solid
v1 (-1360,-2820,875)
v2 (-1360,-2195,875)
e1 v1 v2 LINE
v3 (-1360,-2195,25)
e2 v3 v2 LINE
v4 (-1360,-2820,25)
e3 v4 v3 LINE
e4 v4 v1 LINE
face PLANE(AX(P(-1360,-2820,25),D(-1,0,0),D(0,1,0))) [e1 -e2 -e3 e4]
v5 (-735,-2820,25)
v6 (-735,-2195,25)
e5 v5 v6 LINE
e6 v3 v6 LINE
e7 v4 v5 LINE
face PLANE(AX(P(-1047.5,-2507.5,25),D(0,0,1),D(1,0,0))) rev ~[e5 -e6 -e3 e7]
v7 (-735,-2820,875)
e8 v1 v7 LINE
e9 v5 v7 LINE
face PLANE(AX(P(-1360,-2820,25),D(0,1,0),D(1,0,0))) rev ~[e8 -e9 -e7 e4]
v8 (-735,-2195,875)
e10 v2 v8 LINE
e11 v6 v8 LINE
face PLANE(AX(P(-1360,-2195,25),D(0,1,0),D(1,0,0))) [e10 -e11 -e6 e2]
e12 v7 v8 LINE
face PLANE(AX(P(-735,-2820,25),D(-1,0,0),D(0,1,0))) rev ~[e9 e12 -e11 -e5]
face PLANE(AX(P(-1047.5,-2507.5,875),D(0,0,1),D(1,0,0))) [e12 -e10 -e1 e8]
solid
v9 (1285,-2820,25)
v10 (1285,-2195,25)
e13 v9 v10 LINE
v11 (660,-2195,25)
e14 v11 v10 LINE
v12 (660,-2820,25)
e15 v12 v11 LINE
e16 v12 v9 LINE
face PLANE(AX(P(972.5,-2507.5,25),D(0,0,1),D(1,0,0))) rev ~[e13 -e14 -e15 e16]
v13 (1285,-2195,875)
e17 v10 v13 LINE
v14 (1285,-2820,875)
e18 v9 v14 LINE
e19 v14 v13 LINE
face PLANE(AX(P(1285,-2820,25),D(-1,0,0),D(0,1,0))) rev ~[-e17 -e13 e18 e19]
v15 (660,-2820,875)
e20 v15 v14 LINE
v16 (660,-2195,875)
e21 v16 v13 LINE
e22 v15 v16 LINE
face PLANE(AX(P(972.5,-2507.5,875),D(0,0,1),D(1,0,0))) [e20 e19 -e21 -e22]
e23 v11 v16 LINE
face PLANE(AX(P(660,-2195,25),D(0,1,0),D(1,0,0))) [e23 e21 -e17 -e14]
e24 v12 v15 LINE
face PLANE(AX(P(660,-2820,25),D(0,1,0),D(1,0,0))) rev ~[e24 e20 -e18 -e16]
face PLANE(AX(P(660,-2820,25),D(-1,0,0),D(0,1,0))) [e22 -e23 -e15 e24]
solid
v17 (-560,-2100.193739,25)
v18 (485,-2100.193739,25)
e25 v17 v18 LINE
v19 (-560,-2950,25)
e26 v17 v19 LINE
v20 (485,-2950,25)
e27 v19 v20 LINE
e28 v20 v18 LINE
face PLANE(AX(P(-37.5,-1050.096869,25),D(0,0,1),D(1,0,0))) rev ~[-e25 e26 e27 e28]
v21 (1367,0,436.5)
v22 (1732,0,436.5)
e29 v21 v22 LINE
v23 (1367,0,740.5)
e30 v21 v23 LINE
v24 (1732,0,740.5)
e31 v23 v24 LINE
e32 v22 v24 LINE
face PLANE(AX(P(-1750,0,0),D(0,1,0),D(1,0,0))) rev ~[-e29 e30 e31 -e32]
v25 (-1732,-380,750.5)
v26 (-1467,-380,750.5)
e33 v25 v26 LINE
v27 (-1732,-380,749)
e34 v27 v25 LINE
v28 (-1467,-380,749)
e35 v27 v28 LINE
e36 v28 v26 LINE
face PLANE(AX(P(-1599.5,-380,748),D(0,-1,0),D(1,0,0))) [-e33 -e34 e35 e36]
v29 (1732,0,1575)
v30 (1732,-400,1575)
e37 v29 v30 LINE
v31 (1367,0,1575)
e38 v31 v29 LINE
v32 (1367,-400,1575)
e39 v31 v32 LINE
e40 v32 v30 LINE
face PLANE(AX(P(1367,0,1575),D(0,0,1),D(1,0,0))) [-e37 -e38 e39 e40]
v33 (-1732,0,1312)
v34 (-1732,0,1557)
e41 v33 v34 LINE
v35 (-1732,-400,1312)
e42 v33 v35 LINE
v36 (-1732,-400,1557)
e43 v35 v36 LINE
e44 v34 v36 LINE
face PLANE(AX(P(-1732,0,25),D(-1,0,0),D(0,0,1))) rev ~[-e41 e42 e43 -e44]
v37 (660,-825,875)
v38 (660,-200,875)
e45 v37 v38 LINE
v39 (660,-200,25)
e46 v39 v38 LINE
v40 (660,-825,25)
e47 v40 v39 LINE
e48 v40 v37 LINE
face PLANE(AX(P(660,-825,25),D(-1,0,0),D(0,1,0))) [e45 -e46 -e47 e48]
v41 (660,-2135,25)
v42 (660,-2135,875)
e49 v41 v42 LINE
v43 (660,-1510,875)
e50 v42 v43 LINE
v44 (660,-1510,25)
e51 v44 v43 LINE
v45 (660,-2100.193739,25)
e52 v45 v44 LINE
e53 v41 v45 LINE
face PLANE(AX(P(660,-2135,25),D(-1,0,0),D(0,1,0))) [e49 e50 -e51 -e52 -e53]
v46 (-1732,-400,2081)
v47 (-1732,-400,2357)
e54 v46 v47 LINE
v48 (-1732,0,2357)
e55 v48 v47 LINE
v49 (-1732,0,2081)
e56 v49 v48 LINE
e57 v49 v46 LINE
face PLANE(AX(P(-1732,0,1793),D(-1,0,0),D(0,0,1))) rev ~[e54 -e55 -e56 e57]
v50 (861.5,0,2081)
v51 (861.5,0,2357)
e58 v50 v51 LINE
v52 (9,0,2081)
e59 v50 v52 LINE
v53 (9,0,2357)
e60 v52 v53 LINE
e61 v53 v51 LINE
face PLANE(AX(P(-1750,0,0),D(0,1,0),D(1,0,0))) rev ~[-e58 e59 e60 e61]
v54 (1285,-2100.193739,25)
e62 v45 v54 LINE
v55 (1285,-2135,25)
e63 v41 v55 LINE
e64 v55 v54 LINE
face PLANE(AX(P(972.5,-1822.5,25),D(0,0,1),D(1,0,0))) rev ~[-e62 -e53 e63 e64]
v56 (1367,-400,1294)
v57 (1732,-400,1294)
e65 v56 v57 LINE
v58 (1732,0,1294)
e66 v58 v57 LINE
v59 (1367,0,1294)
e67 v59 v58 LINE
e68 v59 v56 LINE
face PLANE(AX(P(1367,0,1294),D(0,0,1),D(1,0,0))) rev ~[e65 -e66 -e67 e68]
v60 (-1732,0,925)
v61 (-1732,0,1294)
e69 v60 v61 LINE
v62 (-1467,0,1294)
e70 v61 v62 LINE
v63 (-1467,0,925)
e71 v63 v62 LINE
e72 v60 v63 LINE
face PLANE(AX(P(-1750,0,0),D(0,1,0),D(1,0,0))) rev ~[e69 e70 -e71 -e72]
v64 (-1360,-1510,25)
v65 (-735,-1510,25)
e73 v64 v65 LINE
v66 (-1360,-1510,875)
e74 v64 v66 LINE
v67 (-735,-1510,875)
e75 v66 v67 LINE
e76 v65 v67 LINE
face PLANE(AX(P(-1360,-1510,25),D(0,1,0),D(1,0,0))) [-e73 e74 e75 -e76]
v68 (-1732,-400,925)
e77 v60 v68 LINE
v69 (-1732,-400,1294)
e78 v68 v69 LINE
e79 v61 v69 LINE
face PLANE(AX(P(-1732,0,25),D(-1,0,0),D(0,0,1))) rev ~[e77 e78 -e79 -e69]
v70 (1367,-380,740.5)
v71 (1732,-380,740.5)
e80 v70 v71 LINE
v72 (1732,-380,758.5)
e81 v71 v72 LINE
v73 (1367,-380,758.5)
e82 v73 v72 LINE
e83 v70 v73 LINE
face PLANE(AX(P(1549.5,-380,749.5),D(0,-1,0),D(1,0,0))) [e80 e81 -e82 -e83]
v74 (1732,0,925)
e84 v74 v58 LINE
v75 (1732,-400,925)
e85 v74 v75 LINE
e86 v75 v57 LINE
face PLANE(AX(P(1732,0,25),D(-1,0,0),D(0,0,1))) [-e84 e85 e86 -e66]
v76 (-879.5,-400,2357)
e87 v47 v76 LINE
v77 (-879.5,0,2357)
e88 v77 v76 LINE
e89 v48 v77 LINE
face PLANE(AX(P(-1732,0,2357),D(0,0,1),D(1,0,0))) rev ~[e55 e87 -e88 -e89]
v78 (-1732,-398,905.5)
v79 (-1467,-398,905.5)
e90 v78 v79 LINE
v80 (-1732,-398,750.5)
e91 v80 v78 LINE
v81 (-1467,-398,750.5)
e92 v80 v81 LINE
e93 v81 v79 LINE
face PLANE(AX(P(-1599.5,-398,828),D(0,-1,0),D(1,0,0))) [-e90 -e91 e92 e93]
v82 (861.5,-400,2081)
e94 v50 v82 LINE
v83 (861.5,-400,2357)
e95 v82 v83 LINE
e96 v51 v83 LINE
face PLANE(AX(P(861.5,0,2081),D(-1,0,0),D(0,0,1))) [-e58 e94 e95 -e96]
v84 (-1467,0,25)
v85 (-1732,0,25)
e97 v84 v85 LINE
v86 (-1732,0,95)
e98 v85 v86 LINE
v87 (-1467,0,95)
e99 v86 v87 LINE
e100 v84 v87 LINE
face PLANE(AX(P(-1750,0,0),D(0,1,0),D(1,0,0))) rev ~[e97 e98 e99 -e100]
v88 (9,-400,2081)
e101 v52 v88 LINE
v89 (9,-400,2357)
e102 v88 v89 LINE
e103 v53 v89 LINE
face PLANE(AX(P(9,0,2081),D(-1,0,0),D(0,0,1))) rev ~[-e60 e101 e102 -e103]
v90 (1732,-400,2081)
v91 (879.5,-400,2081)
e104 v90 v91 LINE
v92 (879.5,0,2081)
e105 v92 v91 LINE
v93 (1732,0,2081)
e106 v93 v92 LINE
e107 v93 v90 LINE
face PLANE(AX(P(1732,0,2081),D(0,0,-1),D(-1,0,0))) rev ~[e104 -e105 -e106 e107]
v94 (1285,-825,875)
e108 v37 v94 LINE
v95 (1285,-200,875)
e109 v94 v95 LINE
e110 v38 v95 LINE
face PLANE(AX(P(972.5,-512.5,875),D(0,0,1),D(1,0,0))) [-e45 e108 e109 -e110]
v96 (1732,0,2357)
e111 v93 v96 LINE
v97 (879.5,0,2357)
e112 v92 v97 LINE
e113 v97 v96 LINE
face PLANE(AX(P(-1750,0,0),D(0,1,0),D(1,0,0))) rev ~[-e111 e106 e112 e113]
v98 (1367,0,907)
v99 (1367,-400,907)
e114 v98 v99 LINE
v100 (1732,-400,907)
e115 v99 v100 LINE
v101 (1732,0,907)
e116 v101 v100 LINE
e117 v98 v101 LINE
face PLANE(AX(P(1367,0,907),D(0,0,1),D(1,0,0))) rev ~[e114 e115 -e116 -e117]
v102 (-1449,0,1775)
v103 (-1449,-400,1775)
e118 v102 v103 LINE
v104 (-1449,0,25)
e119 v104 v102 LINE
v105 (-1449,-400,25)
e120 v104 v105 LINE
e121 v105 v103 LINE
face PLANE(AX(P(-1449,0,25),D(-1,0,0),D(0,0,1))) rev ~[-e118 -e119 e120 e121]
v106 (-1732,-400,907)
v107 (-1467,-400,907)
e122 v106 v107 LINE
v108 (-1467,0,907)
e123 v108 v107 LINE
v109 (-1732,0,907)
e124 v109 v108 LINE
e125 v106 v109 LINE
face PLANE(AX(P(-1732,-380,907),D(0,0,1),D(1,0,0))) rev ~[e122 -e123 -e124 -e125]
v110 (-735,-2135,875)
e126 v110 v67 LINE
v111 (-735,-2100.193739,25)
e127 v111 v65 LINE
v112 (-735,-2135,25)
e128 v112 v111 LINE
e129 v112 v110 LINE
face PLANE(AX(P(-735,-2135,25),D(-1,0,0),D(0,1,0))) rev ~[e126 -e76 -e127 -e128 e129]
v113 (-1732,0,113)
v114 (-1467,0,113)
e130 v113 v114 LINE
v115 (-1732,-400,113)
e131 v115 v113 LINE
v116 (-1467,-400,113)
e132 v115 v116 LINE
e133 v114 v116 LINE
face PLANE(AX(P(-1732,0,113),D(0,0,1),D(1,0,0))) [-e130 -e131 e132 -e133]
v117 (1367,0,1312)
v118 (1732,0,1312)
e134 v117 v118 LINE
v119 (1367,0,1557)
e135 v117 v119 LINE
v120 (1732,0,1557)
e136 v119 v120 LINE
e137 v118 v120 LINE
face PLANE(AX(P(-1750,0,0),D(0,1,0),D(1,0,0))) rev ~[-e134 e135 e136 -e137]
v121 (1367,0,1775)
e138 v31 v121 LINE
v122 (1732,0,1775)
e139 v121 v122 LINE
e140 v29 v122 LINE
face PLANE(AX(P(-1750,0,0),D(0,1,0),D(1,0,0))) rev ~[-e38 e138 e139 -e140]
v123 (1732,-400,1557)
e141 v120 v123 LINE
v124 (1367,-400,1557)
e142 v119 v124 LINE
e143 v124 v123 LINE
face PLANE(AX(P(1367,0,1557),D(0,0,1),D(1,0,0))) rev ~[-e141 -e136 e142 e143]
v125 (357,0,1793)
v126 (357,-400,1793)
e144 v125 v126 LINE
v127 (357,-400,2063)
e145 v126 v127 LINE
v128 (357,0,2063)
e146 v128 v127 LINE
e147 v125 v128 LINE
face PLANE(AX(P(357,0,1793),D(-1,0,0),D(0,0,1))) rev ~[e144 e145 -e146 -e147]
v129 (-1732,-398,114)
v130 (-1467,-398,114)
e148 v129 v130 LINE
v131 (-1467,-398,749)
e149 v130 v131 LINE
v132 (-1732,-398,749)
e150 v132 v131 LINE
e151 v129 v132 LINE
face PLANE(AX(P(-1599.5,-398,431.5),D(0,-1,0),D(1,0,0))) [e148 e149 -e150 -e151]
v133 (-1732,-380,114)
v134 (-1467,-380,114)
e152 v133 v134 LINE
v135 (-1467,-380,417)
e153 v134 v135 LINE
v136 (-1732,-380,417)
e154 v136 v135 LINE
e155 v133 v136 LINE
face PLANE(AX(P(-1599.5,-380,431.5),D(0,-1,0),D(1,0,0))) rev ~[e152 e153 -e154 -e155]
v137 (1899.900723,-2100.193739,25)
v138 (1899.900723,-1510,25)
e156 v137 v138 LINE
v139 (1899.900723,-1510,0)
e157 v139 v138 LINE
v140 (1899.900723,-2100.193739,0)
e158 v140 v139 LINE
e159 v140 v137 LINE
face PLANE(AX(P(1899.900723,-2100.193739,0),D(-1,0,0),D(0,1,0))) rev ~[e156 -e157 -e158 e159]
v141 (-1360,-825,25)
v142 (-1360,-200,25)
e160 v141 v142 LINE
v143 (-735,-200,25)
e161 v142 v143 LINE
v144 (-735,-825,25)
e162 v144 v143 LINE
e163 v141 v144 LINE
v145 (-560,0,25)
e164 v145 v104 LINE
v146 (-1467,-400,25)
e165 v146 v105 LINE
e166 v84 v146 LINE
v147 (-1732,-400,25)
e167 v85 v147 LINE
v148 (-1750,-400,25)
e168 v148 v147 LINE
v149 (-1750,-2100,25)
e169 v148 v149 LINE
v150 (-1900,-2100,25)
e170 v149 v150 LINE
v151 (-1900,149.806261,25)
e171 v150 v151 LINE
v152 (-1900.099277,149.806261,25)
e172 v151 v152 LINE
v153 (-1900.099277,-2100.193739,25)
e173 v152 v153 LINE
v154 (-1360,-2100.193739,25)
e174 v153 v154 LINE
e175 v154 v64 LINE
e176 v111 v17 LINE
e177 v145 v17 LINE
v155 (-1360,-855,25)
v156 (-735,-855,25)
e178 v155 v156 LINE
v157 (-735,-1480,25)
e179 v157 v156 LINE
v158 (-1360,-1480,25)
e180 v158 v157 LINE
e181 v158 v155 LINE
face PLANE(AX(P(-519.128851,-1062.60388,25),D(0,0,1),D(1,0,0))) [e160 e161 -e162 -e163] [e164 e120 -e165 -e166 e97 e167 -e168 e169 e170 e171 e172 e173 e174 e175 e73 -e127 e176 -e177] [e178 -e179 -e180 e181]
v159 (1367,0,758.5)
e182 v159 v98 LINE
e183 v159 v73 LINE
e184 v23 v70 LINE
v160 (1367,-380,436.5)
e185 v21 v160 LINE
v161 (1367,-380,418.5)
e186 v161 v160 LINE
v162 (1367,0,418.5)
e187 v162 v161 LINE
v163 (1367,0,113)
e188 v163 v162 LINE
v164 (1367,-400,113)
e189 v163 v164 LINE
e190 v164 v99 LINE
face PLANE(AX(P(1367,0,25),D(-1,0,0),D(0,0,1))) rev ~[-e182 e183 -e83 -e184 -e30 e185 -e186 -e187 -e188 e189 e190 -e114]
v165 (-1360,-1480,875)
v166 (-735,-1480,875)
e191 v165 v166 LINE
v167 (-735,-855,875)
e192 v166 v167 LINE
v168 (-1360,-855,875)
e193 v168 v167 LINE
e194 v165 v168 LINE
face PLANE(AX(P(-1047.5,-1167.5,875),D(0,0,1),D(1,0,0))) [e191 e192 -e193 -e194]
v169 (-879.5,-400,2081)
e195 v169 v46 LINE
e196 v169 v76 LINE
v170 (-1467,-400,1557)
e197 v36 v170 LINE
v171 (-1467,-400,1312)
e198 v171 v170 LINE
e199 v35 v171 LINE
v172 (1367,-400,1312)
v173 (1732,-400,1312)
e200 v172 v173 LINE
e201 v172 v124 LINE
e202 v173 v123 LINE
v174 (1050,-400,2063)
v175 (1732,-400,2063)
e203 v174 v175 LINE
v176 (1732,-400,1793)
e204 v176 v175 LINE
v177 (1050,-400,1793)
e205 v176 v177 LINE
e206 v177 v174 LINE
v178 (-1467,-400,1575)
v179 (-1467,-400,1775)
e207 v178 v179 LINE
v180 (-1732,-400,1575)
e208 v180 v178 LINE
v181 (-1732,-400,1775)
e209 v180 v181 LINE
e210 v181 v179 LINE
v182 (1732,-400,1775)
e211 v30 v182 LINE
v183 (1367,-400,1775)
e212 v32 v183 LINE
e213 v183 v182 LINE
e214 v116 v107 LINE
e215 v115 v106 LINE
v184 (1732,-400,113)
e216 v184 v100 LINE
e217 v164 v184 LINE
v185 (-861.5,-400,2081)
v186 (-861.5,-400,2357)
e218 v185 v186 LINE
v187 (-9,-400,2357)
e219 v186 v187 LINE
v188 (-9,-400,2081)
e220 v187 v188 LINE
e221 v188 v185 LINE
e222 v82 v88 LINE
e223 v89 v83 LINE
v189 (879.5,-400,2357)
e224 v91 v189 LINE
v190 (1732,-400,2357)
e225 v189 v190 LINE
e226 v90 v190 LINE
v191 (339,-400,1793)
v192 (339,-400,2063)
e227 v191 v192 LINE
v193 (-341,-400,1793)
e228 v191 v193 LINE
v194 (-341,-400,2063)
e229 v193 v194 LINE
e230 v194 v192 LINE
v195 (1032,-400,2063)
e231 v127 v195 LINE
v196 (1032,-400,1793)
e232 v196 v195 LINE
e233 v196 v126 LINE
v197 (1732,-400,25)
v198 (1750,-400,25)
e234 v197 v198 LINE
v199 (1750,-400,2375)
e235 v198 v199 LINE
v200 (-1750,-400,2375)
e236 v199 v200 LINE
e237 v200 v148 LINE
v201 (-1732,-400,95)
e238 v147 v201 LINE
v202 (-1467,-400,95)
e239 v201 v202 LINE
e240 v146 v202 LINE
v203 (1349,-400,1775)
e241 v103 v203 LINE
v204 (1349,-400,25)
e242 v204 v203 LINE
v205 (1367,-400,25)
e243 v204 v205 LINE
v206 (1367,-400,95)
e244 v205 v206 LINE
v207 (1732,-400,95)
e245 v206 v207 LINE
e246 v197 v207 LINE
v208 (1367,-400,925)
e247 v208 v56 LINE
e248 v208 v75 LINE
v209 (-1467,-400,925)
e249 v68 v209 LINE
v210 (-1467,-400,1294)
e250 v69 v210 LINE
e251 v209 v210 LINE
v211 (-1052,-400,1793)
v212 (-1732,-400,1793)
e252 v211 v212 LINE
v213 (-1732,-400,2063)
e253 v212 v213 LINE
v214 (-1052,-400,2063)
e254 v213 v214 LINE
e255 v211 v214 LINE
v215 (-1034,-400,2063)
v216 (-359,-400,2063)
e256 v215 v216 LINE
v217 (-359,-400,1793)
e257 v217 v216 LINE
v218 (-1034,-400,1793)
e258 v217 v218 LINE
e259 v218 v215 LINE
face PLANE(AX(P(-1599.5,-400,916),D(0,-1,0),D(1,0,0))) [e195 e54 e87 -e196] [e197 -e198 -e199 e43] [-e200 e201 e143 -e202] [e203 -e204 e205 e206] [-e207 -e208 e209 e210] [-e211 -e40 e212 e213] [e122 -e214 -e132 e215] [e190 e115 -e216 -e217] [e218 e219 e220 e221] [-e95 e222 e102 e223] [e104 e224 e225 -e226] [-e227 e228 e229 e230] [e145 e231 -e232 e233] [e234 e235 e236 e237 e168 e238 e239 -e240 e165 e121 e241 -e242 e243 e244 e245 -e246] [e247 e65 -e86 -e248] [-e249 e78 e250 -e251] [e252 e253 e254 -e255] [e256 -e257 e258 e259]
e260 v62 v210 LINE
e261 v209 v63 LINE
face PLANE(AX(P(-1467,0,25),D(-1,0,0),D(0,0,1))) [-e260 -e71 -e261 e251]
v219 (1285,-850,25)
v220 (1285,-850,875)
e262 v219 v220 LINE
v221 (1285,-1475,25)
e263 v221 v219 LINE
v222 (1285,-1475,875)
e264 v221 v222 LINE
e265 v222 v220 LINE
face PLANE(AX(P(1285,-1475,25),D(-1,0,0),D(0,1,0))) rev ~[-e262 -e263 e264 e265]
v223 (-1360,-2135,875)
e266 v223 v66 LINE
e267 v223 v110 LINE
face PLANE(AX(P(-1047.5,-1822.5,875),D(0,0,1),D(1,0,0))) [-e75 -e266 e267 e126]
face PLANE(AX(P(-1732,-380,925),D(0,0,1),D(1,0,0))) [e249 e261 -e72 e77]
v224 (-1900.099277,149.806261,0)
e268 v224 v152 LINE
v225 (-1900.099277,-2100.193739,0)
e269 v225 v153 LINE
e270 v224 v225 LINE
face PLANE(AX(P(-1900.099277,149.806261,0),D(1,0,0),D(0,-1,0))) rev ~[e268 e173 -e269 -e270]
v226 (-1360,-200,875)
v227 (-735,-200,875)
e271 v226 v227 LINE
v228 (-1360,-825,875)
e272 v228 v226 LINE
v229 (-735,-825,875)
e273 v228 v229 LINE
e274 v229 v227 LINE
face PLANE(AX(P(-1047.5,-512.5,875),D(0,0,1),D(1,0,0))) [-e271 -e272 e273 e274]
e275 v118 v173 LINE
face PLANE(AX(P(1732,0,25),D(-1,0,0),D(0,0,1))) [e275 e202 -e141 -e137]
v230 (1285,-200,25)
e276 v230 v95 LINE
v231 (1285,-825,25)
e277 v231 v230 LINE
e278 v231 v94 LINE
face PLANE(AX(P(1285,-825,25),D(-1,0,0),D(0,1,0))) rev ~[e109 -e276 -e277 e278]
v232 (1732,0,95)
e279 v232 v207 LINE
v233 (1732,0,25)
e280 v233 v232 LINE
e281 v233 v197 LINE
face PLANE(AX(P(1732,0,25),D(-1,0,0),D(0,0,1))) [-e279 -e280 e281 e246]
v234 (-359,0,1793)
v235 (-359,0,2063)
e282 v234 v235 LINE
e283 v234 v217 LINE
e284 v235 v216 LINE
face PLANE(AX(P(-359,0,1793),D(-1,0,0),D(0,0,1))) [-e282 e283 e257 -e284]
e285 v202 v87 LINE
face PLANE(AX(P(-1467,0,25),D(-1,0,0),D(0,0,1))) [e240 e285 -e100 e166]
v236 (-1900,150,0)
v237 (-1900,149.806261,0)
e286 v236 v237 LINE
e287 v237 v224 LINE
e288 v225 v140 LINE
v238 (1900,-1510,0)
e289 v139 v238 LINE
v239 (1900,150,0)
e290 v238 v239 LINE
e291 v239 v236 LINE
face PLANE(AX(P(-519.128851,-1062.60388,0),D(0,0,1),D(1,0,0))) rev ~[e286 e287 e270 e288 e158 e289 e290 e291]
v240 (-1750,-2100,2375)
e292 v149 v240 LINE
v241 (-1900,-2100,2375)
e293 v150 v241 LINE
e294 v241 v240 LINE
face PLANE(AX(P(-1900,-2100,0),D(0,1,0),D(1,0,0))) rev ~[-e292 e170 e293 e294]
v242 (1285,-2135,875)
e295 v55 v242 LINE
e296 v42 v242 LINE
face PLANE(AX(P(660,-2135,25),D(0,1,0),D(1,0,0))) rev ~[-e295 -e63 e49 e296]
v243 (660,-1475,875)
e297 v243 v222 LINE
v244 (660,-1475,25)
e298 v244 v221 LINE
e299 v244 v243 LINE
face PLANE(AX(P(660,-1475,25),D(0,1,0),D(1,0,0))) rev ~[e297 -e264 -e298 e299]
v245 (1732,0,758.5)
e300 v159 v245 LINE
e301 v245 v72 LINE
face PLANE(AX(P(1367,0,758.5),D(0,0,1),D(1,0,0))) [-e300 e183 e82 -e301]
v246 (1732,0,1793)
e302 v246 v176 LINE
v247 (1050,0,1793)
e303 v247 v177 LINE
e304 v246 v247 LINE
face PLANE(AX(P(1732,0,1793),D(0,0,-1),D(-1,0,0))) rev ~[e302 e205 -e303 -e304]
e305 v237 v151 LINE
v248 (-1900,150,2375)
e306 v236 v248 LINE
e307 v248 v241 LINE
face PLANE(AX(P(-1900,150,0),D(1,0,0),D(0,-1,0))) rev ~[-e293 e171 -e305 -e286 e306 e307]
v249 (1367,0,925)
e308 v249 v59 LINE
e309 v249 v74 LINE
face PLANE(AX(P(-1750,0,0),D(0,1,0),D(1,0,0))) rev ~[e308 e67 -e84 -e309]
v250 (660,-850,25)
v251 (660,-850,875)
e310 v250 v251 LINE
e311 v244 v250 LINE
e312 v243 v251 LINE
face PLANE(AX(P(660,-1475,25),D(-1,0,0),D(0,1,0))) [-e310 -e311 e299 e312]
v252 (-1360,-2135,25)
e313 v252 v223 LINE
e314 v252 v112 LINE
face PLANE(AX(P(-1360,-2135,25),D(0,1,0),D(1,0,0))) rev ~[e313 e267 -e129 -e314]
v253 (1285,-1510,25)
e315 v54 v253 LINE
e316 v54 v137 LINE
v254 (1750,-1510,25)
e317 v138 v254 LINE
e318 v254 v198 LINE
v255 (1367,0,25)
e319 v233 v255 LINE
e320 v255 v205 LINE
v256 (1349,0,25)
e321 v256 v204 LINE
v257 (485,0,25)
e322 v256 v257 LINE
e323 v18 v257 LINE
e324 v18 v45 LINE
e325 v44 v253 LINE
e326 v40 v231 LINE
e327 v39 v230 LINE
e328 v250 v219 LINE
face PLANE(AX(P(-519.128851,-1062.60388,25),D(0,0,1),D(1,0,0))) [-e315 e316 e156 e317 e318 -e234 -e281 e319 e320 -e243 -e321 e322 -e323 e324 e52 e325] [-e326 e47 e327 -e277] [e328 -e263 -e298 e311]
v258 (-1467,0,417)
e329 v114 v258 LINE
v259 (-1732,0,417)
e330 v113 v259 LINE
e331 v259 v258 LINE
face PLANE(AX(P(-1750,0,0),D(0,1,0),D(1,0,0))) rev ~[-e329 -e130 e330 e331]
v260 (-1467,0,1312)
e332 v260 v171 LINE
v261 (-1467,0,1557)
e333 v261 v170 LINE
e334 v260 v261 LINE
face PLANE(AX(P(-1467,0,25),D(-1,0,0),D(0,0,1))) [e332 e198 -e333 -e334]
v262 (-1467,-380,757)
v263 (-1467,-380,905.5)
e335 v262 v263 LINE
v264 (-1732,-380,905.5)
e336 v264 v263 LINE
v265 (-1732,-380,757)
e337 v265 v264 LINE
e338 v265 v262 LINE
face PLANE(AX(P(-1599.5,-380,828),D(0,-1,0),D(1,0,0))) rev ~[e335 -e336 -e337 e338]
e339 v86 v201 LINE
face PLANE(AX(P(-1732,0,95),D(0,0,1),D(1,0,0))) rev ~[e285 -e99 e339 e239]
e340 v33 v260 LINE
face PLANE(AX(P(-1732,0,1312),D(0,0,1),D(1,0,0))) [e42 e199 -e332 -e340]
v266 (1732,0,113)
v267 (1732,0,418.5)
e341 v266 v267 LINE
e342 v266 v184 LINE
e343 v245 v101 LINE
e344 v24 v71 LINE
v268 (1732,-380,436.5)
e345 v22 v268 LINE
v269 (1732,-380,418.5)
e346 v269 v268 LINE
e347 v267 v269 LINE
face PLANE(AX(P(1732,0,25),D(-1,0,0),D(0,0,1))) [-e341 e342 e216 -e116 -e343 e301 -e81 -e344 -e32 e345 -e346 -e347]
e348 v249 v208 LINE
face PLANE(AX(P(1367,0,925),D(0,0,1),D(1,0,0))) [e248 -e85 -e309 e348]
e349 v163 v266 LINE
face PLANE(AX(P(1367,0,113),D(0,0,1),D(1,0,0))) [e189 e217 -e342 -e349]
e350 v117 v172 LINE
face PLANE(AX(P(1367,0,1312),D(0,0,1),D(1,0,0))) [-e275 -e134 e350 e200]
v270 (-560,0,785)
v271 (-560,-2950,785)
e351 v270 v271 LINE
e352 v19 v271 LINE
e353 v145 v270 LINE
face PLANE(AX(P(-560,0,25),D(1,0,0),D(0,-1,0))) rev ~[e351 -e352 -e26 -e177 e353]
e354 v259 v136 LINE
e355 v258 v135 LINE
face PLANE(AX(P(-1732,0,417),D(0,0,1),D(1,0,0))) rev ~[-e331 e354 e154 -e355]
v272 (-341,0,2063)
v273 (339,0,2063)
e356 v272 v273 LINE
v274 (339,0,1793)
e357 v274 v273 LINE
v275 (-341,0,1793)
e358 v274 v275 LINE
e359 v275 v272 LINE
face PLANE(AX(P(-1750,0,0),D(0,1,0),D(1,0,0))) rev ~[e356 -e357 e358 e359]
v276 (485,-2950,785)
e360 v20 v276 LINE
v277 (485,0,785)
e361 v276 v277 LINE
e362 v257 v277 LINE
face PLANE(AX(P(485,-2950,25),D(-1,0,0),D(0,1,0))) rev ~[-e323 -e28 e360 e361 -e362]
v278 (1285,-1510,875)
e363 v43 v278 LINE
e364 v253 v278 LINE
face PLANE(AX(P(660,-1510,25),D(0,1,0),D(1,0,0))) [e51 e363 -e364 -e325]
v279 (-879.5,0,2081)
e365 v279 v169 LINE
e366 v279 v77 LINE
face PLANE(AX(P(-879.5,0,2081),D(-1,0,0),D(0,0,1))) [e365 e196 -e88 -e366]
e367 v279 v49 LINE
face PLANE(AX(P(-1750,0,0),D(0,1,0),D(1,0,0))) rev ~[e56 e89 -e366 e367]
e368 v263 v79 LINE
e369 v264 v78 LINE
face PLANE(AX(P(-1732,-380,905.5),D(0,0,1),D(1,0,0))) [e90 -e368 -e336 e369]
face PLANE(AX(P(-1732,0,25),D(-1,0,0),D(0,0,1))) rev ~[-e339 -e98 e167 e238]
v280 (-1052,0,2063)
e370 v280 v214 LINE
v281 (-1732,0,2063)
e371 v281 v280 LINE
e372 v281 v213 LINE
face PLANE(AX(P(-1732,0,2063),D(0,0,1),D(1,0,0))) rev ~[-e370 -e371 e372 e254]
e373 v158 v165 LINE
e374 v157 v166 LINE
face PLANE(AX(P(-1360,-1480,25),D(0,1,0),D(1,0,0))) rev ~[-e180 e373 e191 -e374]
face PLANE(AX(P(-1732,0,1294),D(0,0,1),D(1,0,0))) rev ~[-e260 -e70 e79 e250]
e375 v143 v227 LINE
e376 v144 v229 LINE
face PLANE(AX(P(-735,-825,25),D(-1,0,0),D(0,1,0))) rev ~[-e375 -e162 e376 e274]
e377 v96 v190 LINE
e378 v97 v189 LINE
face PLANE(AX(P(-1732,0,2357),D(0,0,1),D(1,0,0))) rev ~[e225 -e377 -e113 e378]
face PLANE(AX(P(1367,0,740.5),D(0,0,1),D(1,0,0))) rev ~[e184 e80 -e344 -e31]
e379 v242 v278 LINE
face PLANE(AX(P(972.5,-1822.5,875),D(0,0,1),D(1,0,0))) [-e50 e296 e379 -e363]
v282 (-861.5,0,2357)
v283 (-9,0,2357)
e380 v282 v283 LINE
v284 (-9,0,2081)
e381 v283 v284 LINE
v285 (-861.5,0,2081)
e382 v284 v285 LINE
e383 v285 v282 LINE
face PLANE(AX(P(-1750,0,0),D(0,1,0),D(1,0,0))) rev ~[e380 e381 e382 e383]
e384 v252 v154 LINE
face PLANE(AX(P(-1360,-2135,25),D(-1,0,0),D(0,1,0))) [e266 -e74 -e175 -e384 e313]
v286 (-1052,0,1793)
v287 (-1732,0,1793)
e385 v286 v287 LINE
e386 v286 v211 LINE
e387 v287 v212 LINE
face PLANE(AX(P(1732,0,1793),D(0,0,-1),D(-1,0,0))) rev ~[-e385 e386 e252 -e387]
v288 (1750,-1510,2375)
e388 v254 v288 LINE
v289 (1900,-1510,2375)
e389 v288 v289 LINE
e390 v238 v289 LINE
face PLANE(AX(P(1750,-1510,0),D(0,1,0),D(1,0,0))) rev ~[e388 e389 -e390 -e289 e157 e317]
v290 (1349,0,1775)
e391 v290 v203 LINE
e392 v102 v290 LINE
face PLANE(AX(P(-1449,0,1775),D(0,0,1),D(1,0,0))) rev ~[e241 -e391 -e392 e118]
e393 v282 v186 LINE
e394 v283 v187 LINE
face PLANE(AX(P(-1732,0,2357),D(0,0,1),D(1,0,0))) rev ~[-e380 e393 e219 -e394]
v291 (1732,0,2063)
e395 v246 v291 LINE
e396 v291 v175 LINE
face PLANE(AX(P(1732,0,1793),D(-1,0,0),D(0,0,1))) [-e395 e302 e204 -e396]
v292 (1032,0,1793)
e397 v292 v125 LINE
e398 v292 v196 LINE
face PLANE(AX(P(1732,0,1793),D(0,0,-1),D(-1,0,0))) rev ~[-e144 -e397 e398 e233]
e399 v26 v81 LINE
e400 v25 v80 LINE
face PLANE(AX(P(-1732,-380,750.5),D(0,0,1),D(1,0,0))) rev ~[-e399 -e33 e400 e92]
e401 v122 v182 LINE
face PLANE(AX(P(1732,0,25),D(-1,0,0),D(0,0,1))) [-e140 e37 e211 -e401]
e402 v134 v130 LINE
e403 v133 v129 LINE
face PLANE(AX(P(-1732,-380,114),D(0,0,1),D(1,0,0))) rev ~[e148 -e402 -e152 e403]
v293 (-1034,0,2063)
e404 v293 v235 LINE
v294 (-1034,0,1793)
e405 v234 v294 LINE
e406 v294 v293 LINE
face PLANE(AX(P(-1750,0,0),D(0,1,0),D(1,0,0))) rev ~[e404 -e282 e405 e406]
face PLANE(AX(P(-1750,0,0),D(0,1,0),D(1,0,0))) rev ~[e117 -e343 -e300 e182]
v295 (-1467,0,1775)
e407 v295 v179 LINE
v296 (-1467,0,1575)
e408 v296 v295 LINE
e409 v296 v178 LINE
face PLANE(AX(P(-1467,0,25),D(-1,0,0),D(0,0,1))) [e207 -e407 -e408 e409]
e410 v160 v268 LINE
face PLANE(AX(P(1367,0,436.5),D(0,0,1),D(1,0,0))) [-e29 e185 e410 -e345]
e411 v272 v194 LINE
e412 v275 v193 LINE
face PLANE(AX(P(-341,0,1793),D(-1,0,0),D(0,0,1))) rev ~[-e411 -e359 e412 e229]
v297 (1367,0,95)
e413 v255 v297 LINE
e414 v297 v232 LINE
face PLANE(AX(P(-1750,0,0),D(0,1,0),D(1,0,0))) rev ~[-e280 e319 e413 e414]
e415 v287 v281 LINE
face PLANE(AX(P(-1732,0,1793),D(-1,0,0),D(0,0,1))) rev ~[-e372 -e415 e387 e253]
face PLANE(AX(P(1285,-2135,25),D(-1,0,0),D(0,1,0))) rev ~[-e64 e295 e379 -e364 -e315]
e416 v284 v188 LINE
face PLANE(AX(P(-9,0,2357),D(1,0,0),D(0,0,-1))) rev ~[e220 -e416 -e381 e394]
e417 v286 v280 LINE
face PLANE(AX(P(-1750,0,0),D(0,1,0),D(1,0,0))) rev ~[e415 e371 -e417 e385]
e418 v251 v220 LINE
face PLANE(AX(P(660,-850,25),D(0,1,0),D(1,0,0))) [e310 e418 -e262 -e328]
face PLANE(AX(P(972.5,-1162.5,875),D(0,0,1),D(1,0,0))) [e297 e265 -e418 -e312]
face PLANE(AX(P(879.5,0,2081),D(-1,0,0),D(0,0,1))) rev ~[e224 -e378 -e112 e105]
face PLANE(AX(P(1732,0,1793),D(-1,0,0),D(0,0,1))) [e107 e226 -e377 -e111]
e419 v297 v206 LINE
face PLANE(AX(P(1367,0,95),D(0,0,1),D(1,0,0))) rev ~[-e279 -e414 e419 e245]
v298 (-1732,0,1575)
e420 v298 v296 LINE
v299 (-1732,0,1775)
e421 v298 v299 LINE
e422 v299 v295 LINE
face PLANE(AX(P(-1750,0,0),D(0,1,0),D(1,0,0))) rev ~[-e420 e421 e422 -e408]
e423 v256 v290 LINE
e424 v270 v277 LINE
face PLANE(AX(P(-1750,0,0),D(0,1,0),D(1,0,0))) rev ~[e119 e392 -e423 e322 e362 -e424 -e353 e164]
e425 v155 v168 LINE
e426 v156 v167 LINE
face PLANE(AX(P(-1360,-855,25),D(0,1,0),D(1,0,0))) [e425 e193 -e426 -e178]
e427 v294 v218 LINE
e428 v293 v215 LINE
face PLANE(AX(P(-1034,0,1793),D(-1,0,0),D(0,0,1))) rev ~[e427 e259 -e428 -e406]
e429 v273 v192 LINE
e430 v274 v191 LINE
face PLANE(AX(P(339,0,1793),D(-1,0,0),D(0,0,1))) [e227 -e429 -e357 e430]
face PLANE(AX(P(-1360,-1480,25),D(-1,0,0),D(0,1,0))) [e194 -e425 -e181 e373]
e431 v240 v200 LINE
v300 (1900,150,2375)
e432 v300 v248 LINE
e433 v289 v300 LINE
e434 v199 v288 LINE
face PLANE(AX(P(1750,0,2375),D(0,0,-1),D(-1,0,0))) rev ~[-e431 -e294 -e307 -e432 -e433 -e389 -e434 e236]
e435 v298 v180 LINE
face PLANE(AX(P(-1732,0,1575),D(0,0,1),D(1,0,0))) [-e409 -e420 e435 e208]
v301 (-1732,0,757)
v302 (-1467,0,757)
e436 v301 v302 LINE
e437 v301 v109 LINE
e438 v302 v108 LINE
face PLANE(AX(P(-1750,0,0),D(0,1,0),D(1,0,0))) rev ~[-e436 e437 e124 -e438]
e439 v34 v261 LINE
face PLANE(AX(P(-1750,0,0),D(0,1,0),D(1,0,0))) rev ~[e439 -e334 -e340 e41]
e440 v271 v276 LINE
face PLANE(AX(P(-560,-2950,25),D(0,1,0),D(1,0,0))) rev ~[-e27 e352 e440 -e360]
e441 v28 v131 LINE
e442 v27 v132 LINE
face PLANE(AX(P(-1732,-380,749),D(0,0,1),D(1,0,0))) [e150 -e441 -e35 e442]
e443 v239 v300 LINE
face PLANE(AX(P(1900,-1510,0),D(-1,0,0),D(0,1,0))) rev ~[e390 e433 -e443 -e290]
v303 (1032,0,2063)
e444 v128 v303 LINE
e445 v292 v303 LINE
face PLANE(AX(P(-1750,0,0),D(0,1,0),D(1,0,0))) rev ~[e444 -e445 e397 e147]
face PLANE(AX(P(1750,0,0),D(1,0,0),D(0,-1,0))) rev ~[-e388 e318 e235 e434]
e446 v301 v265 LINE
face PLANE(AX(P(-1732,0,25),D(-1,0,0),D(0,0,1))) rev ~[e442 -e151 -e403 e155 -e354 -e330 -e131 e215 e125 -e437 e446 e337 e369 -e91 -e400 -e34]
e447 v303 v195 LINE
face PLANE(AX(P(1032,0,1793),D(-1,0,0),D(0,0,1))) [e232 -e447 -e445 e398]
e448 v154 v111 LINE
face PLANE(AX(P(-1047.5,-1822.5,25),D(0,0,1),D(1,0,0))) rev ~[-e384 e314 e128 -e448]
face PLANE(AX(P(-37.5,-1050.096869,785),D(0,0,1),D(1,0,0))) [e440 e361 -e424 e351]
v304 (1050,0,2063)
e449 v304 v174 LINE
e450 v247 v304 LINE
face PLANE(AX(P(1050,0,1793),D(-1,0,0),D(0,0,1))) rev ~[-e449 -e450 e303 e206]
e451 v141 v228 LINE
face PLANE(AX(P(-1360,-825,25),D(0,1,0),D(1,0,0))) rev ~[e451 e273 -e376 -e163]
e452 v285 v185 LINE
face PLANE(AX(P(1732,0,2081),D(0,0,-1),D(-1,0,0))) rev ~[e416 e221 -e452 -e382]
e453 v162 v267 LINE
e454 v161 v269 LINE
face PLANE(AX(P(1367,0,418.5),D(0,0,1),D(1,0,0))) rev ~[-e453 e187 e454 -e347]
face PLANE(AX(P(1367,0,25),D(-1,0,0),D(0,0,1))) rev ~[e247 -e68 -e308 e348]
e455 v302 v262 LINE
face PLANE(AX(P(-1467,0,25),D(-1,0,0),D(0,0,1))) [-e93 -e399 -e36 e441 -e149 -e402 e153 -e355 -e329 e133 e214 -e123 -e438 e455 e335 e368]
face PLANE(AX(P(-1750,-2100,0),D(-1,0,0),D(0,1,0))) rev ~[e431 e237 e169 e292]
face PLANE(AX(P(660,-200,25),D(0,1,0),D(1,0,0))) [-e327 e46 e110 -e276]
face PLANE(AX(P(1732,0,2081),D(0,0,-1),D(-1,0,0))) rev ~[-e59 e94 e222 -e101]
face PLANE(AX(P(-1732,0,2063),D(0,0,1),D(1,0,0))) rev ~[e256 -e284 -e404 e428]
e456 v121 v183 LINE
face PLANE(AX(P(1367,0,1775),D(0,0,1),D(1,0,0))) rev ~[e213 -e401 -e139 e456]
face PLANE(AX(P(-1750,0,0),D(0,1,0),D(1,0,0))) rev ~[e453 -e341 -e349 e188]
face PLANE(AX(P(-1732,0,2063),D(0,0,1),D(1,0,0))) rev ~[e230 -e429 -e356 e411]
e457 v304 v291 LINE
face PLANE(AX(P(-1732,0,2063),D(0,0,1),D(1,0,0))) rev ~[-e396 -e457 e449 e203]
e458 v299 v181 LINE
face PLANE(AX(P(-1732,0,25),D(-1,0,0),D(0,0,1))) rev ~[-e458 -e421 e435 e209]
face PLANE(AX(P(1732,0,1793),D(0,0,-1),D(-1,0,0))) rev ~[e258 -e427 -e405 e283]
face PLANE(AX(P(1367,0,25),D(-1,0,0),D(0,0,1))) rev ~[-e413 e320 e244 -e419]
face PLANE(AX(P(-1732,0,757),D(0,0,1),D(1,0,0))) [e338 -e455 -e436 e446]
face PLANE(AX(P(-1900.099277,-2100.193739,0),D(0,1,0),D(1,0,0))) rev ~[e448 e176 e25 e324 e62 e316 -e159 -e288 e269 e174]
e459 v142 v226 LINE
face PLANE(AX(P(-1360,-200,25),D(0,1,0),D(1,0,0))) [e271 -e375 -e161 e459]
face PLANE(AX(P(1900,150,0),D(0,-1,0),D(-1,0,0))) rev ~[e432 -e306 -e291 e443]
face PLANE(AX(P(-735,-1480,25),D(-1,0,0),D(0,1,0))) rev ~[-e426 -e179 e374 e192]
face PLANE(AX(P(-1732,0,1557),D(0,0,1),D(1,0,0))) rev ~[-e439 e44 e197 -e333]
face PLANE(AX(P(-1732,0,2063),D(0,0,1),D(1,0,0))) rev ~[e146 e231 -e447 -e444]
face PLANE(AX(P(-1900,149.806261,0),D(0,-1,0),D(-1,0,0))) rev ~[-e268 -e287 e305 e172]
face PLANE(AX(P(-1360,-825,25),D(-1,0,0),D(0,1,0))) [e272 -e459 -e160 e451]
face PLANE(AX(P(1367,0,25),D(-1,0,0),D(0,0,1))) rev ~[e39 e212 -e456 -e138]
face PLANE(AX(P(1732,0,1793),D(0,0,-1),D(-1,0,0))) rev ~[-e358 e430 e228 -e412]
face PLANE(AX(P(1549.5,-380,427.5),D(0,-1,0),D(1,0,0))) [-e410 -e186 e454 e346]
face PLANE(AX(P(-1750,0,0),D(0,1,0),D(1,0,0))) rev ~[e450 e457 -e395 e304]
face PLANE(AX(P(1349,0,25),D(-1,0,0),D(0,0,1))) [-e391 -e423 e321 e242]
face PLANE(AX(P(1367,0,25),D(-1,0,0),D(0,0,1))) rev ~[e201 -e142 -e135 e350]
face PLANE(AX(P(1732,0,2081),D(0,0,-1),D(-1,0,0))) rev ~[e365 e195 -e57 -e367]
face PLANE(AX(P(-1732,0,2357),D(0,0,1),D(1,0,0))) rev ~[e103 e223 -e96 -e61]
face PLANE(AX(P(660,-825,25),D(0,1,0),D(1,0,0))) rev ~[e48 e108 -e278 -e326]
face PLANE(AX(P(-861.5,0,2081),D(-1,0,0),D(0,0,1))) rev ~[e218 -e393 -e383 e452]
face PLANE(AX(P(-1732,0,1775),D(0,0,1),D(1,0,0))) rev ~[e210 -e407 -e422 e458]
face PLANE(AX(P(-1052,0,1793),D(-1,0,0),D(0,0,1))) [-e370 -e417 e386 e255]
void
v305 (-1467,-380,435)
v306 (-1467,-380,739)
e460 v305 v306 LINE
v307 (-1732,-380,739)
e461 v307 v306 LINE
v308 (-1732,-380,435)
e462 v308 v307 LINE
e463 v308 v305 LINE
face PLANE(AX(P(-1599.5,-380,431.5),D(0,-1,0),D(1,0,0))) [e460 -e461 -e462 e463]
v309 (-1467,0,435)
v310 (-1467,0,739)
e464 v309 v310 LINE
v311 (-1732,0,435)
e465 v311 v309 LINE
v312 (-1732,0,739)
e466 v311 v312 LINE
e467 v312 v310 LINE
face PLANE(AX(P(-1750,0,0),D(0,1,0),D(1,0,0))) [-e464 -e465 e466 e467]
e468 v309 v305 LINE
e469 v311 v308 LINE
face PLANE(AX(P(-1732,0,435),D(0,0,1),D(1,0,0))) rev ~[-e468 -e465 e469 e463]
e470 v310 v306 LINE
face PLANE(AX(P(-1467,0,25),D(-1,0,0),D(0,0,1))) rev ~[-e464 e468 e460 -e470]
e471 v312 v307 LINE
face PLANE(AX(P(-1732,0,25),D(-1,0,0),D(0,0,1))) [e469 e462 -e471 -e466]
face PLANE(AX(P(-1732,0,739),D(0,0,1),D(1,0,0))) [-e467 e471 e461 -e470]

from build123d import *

# Parameters (mm, degrees)
F1_DEPTH  = 2375
F3_DEPTH  = 25
F4_W      = 1045
F4_H      = 2100.1937389374
F4_H_2    = 849.8062610626
F5_DEPTH  = 760
F6_W      = 625
F6_H      = 625
F7_DEPTH  = 850
F8_W      = 18
F8_H      = 1750
F8_H_2    = 18
F8_H_3    = 564
F9_DEPTH  = 400
F11_DEPTH = 400
F12_W     = 18
F12_H     = 276
F13_DEPTH = 400
F14_W     = 18
F14_H     = 270
F15_DEPTH = 400
F16_W     = 265
F16_H     = 18
F17_DEPTH = 380
F18_DEPTH = 20
F19_W     = 265
F19_H     = 18
F20_DEPTH = 400
F21_W     = 265
F21_H     = 155
F21_H_2   = 635
F22_DEPTH = 18
F23_W     = 365
F23_H     = 18
F24_DEPTH = 400
F25_W     = 365
F25_H     = 18
F26_DEPTH = 380


with BuildPart() as f1:
    # F0 (on Top) → F1 (new body)
    with BuildSketch(Plane.XY):
        Polygon((-1750, 0), (-1e-10, 0), (1750.0000000001, 0), (1750, -1510), (1900, -1510), (1900, 150), (-1900, 150), (-1900, -2100), (-1750, -2100), align=None)
    extrude(amount=F1_DEPTH)

    # F2 (on face) → F3 (join)
    with BuildSketch(Plane.XY):
        Polygon((-1900.0992774963, 149.8062610626), (-1900.0992774963, -2100.1937389374), (1899.9007225037, -2100.1937389374), (1899.9007225037, -1510), (1750, -1510), (1750, 0), (2e-10, 0), (-1750, 0), (-1750, -2100), (-1900, -2100), (-1900, 149.8062610626), align=None)
    extrude(amount=F3_DEPTH)

    # F4 (on face) → F5 (join)
    with BuildSketch(Plane.XY.offset(25)):
        with Locations((-37.5, -1050.0968694687)):
            Rectangle(F4_W, F4_H)
        with Locations((-37.5, -2525.0968694687)):
            Rectangle(F4_W, F4_H_2)
    extrude(amount=F5_DEPTH)

    # F6 (on face) → F7, piece 2 (join)
    with BuildSketch(Plane.XY.offset(25)):
        with Locations((-1047.5, -1822.5)):
            Rectangle(F6_W, F6_H)
        with Locations((-1047.5, -1167.5)):
            Rectangle(F6_W, F6_H)
        with Locations((-1047.5, -512.5)):
            Rectangle(F6_W, F6_H)
        with Locations((972.5, -512.5)):
            Rectangle(F6_W, F6_H)
        with Locations((972.5, -1162.5)):
            Rectangle(F6_W, F6_H)
        with Locations((972.5, -1822.5)):
            Rectangle(F6_W, F6_H)
    extrude(amount=F7_DEPTH)

    # F8 (on face) → F9 (join)
    with BuildSketch(Plane.XZ):
        Polygon((-1732, 1793), (-1750, 1793), (-1750, 1775), (-1732, 1775), (-1467, 1775), (-1449, 1775), (1349, 1775), (1367, 1775), (1732, 1775), (1750, 1775), (1750, 1793), (1732, 1793), align=None)
        Polygon((1750, 2375), (-1732, 2375), (-1732, 2357), (1732, 2357), (1750, 2357), align=None)
        with Locations((-1458, 900)):
            Rectangle(F8_W, F8_H)
        with Locations((-1741, 2366)):
            Rectangle(F8_W, F8_H_2)
        with Locations((-1741, 2075)):
            Rectangle(F8_W, F8_H_3)
        with Locations((1358, 900)):
            Rectangle(F8_W, F8_H)
        with Locations((1741, 900)):
            Rectangle(F8_W, F8_H)
        with Locations((1741, 2075)):
            Rectangle(F8_W, F8_H_3)
        with Locations((-1741, 900)):
            Rectangle(F8_W, F8_H)
    extrude(amount=F9_DEPTH)

    # F10 (on face) → F11 (join)
    with BuildSketch(Plane.XZ):
        Polygon((1732, 2063), (1732, 2075), (1732, 2081), (-1732, 2081), (-1732, 2063), align=None)
    extrude(amount=F11_DEPTH)

    # F12 (on face) → F13 (join)
    with BuildSketch(Plane.XZ):
        Polygon((-9, 2081), (0, 2081), (9, 2081), (9, 2357), (-9, 2357), align=None)
        with Locations((-870.5, 2219)):
            Rectangle(F12_W, F12_H)
        with Locations((870.5, 2219)):
            Rectangle(F12_W, F12_H)
    extrude(amount=F13_DEPTH)

    # F14 (on face) → F15 (join)
    with BuildSketch(Plane.XZ):
        with Locations((1041, 1928)):
            Rectangle(F14_W, F14_H)
        with Locations((-1043, 1928)):
            Rectangle(F14_W, F14_H)
        with Locations((-350, 1928)):
            Rectangle(F14_W, F14_H)
        with Locations((348, 1928)):
            Rectangle(F14_W, F14_H)
    extrude(amount=F15_DEPTH)

    # F16 (on face) → F17 (join)
    with BuildSketch(Plane.XZ):
        with Locations((-1599.5, 916)):
            Rectangle(F16_W, F16_H)
        with Locations((-1599.5, 748)):
            Rectangle(F16_W, F16_H)
        with Locations((-1599.5, 426)):
            Rectangle(F16_W, F16_H)
        with Locations((-1599.5, 104)):
            Rectangle(F16_W, F16_H)
    extrude(amount=F17_DEPTH)

    # F18 (add): faces of the model
    f18_faces = [f1.faces().sort_by_distance(p)[0] for p in [
        (-1599.5, -380, 916),
        (-1599.5, -380, 104),
    ]]
    extrude(f18_faces, amount=F18_DEPTH)

    # F19 (on face) → F20 (join)
    with BuildSketch(Plane.XZ):
        with Locations((-1599.5, 1303)):
            Rectangle(F19_W, F19_H)
        with Locations((-1599.5, 1566)):
            Rectangle(F19_W, F19_H)
    extrude(amount=F20_DEPTH)

    # F21 (on face) → F22 (join)
    with BuildSketch(Plane.XZ.offset(380)):
        with Locations((-1599.5, 828)):
            Rectangle(F21_W, F21_H)
        with Locations((-1599.5, 431.5)):
            Rectangle(F21_W, F21_H_2)
    extrude(amount=F22_DEPTH)

    # F23 (on face) → F24 (join)
    with BuildSketch(Plane.XZ):
        with Locations((1549.5, 1566)):
            Rectangle(F23_W, F23_H)
        with Locations((1549.5, 1303)):
            Rectangle(F23_W, F23_H)
        with Locations((1549.5, 104)):
            Rectangle(F23_W, F23_H)
        with Locations((1549.5, 916)):
            Rectangle(F23_W, F23_H)
    extrude(amount=F24_DEPTH)

    # F25 (on face) → F26 (join)
    with BuildSketch(Plane.XZ):
        with Locations((1549.5, 749.5)):
            Rectangle(F25_W, F25_H)
        with Locations((1549.5, 427.5)):
            Rectangle(F25_W, F25_H)
    extrude(amount=F26_DEPTH)


with BuildPart() as f7:
    # F6 (on face) → F7 (new body)
    with BuildSketch(Plane.XY.offset(25)):
        with Locations((-1047.5, -2507.5)):
            Rectangle(F6_W, F6_H)
    extrude(amount=F7_DEPTH)


with BuildPart() as f7b:
    # F6 (on face) → F7, piece 3 (new body)
    with BuildSketch(Plane.XY.offset(25)):
        with Locations((972.5, -2507.5)):
            Rectangle(F6_W, F6_H)
    extrude(amount=F7_DEPTH)


solid = Compound([f1.part, f7.part, f7b.part])
